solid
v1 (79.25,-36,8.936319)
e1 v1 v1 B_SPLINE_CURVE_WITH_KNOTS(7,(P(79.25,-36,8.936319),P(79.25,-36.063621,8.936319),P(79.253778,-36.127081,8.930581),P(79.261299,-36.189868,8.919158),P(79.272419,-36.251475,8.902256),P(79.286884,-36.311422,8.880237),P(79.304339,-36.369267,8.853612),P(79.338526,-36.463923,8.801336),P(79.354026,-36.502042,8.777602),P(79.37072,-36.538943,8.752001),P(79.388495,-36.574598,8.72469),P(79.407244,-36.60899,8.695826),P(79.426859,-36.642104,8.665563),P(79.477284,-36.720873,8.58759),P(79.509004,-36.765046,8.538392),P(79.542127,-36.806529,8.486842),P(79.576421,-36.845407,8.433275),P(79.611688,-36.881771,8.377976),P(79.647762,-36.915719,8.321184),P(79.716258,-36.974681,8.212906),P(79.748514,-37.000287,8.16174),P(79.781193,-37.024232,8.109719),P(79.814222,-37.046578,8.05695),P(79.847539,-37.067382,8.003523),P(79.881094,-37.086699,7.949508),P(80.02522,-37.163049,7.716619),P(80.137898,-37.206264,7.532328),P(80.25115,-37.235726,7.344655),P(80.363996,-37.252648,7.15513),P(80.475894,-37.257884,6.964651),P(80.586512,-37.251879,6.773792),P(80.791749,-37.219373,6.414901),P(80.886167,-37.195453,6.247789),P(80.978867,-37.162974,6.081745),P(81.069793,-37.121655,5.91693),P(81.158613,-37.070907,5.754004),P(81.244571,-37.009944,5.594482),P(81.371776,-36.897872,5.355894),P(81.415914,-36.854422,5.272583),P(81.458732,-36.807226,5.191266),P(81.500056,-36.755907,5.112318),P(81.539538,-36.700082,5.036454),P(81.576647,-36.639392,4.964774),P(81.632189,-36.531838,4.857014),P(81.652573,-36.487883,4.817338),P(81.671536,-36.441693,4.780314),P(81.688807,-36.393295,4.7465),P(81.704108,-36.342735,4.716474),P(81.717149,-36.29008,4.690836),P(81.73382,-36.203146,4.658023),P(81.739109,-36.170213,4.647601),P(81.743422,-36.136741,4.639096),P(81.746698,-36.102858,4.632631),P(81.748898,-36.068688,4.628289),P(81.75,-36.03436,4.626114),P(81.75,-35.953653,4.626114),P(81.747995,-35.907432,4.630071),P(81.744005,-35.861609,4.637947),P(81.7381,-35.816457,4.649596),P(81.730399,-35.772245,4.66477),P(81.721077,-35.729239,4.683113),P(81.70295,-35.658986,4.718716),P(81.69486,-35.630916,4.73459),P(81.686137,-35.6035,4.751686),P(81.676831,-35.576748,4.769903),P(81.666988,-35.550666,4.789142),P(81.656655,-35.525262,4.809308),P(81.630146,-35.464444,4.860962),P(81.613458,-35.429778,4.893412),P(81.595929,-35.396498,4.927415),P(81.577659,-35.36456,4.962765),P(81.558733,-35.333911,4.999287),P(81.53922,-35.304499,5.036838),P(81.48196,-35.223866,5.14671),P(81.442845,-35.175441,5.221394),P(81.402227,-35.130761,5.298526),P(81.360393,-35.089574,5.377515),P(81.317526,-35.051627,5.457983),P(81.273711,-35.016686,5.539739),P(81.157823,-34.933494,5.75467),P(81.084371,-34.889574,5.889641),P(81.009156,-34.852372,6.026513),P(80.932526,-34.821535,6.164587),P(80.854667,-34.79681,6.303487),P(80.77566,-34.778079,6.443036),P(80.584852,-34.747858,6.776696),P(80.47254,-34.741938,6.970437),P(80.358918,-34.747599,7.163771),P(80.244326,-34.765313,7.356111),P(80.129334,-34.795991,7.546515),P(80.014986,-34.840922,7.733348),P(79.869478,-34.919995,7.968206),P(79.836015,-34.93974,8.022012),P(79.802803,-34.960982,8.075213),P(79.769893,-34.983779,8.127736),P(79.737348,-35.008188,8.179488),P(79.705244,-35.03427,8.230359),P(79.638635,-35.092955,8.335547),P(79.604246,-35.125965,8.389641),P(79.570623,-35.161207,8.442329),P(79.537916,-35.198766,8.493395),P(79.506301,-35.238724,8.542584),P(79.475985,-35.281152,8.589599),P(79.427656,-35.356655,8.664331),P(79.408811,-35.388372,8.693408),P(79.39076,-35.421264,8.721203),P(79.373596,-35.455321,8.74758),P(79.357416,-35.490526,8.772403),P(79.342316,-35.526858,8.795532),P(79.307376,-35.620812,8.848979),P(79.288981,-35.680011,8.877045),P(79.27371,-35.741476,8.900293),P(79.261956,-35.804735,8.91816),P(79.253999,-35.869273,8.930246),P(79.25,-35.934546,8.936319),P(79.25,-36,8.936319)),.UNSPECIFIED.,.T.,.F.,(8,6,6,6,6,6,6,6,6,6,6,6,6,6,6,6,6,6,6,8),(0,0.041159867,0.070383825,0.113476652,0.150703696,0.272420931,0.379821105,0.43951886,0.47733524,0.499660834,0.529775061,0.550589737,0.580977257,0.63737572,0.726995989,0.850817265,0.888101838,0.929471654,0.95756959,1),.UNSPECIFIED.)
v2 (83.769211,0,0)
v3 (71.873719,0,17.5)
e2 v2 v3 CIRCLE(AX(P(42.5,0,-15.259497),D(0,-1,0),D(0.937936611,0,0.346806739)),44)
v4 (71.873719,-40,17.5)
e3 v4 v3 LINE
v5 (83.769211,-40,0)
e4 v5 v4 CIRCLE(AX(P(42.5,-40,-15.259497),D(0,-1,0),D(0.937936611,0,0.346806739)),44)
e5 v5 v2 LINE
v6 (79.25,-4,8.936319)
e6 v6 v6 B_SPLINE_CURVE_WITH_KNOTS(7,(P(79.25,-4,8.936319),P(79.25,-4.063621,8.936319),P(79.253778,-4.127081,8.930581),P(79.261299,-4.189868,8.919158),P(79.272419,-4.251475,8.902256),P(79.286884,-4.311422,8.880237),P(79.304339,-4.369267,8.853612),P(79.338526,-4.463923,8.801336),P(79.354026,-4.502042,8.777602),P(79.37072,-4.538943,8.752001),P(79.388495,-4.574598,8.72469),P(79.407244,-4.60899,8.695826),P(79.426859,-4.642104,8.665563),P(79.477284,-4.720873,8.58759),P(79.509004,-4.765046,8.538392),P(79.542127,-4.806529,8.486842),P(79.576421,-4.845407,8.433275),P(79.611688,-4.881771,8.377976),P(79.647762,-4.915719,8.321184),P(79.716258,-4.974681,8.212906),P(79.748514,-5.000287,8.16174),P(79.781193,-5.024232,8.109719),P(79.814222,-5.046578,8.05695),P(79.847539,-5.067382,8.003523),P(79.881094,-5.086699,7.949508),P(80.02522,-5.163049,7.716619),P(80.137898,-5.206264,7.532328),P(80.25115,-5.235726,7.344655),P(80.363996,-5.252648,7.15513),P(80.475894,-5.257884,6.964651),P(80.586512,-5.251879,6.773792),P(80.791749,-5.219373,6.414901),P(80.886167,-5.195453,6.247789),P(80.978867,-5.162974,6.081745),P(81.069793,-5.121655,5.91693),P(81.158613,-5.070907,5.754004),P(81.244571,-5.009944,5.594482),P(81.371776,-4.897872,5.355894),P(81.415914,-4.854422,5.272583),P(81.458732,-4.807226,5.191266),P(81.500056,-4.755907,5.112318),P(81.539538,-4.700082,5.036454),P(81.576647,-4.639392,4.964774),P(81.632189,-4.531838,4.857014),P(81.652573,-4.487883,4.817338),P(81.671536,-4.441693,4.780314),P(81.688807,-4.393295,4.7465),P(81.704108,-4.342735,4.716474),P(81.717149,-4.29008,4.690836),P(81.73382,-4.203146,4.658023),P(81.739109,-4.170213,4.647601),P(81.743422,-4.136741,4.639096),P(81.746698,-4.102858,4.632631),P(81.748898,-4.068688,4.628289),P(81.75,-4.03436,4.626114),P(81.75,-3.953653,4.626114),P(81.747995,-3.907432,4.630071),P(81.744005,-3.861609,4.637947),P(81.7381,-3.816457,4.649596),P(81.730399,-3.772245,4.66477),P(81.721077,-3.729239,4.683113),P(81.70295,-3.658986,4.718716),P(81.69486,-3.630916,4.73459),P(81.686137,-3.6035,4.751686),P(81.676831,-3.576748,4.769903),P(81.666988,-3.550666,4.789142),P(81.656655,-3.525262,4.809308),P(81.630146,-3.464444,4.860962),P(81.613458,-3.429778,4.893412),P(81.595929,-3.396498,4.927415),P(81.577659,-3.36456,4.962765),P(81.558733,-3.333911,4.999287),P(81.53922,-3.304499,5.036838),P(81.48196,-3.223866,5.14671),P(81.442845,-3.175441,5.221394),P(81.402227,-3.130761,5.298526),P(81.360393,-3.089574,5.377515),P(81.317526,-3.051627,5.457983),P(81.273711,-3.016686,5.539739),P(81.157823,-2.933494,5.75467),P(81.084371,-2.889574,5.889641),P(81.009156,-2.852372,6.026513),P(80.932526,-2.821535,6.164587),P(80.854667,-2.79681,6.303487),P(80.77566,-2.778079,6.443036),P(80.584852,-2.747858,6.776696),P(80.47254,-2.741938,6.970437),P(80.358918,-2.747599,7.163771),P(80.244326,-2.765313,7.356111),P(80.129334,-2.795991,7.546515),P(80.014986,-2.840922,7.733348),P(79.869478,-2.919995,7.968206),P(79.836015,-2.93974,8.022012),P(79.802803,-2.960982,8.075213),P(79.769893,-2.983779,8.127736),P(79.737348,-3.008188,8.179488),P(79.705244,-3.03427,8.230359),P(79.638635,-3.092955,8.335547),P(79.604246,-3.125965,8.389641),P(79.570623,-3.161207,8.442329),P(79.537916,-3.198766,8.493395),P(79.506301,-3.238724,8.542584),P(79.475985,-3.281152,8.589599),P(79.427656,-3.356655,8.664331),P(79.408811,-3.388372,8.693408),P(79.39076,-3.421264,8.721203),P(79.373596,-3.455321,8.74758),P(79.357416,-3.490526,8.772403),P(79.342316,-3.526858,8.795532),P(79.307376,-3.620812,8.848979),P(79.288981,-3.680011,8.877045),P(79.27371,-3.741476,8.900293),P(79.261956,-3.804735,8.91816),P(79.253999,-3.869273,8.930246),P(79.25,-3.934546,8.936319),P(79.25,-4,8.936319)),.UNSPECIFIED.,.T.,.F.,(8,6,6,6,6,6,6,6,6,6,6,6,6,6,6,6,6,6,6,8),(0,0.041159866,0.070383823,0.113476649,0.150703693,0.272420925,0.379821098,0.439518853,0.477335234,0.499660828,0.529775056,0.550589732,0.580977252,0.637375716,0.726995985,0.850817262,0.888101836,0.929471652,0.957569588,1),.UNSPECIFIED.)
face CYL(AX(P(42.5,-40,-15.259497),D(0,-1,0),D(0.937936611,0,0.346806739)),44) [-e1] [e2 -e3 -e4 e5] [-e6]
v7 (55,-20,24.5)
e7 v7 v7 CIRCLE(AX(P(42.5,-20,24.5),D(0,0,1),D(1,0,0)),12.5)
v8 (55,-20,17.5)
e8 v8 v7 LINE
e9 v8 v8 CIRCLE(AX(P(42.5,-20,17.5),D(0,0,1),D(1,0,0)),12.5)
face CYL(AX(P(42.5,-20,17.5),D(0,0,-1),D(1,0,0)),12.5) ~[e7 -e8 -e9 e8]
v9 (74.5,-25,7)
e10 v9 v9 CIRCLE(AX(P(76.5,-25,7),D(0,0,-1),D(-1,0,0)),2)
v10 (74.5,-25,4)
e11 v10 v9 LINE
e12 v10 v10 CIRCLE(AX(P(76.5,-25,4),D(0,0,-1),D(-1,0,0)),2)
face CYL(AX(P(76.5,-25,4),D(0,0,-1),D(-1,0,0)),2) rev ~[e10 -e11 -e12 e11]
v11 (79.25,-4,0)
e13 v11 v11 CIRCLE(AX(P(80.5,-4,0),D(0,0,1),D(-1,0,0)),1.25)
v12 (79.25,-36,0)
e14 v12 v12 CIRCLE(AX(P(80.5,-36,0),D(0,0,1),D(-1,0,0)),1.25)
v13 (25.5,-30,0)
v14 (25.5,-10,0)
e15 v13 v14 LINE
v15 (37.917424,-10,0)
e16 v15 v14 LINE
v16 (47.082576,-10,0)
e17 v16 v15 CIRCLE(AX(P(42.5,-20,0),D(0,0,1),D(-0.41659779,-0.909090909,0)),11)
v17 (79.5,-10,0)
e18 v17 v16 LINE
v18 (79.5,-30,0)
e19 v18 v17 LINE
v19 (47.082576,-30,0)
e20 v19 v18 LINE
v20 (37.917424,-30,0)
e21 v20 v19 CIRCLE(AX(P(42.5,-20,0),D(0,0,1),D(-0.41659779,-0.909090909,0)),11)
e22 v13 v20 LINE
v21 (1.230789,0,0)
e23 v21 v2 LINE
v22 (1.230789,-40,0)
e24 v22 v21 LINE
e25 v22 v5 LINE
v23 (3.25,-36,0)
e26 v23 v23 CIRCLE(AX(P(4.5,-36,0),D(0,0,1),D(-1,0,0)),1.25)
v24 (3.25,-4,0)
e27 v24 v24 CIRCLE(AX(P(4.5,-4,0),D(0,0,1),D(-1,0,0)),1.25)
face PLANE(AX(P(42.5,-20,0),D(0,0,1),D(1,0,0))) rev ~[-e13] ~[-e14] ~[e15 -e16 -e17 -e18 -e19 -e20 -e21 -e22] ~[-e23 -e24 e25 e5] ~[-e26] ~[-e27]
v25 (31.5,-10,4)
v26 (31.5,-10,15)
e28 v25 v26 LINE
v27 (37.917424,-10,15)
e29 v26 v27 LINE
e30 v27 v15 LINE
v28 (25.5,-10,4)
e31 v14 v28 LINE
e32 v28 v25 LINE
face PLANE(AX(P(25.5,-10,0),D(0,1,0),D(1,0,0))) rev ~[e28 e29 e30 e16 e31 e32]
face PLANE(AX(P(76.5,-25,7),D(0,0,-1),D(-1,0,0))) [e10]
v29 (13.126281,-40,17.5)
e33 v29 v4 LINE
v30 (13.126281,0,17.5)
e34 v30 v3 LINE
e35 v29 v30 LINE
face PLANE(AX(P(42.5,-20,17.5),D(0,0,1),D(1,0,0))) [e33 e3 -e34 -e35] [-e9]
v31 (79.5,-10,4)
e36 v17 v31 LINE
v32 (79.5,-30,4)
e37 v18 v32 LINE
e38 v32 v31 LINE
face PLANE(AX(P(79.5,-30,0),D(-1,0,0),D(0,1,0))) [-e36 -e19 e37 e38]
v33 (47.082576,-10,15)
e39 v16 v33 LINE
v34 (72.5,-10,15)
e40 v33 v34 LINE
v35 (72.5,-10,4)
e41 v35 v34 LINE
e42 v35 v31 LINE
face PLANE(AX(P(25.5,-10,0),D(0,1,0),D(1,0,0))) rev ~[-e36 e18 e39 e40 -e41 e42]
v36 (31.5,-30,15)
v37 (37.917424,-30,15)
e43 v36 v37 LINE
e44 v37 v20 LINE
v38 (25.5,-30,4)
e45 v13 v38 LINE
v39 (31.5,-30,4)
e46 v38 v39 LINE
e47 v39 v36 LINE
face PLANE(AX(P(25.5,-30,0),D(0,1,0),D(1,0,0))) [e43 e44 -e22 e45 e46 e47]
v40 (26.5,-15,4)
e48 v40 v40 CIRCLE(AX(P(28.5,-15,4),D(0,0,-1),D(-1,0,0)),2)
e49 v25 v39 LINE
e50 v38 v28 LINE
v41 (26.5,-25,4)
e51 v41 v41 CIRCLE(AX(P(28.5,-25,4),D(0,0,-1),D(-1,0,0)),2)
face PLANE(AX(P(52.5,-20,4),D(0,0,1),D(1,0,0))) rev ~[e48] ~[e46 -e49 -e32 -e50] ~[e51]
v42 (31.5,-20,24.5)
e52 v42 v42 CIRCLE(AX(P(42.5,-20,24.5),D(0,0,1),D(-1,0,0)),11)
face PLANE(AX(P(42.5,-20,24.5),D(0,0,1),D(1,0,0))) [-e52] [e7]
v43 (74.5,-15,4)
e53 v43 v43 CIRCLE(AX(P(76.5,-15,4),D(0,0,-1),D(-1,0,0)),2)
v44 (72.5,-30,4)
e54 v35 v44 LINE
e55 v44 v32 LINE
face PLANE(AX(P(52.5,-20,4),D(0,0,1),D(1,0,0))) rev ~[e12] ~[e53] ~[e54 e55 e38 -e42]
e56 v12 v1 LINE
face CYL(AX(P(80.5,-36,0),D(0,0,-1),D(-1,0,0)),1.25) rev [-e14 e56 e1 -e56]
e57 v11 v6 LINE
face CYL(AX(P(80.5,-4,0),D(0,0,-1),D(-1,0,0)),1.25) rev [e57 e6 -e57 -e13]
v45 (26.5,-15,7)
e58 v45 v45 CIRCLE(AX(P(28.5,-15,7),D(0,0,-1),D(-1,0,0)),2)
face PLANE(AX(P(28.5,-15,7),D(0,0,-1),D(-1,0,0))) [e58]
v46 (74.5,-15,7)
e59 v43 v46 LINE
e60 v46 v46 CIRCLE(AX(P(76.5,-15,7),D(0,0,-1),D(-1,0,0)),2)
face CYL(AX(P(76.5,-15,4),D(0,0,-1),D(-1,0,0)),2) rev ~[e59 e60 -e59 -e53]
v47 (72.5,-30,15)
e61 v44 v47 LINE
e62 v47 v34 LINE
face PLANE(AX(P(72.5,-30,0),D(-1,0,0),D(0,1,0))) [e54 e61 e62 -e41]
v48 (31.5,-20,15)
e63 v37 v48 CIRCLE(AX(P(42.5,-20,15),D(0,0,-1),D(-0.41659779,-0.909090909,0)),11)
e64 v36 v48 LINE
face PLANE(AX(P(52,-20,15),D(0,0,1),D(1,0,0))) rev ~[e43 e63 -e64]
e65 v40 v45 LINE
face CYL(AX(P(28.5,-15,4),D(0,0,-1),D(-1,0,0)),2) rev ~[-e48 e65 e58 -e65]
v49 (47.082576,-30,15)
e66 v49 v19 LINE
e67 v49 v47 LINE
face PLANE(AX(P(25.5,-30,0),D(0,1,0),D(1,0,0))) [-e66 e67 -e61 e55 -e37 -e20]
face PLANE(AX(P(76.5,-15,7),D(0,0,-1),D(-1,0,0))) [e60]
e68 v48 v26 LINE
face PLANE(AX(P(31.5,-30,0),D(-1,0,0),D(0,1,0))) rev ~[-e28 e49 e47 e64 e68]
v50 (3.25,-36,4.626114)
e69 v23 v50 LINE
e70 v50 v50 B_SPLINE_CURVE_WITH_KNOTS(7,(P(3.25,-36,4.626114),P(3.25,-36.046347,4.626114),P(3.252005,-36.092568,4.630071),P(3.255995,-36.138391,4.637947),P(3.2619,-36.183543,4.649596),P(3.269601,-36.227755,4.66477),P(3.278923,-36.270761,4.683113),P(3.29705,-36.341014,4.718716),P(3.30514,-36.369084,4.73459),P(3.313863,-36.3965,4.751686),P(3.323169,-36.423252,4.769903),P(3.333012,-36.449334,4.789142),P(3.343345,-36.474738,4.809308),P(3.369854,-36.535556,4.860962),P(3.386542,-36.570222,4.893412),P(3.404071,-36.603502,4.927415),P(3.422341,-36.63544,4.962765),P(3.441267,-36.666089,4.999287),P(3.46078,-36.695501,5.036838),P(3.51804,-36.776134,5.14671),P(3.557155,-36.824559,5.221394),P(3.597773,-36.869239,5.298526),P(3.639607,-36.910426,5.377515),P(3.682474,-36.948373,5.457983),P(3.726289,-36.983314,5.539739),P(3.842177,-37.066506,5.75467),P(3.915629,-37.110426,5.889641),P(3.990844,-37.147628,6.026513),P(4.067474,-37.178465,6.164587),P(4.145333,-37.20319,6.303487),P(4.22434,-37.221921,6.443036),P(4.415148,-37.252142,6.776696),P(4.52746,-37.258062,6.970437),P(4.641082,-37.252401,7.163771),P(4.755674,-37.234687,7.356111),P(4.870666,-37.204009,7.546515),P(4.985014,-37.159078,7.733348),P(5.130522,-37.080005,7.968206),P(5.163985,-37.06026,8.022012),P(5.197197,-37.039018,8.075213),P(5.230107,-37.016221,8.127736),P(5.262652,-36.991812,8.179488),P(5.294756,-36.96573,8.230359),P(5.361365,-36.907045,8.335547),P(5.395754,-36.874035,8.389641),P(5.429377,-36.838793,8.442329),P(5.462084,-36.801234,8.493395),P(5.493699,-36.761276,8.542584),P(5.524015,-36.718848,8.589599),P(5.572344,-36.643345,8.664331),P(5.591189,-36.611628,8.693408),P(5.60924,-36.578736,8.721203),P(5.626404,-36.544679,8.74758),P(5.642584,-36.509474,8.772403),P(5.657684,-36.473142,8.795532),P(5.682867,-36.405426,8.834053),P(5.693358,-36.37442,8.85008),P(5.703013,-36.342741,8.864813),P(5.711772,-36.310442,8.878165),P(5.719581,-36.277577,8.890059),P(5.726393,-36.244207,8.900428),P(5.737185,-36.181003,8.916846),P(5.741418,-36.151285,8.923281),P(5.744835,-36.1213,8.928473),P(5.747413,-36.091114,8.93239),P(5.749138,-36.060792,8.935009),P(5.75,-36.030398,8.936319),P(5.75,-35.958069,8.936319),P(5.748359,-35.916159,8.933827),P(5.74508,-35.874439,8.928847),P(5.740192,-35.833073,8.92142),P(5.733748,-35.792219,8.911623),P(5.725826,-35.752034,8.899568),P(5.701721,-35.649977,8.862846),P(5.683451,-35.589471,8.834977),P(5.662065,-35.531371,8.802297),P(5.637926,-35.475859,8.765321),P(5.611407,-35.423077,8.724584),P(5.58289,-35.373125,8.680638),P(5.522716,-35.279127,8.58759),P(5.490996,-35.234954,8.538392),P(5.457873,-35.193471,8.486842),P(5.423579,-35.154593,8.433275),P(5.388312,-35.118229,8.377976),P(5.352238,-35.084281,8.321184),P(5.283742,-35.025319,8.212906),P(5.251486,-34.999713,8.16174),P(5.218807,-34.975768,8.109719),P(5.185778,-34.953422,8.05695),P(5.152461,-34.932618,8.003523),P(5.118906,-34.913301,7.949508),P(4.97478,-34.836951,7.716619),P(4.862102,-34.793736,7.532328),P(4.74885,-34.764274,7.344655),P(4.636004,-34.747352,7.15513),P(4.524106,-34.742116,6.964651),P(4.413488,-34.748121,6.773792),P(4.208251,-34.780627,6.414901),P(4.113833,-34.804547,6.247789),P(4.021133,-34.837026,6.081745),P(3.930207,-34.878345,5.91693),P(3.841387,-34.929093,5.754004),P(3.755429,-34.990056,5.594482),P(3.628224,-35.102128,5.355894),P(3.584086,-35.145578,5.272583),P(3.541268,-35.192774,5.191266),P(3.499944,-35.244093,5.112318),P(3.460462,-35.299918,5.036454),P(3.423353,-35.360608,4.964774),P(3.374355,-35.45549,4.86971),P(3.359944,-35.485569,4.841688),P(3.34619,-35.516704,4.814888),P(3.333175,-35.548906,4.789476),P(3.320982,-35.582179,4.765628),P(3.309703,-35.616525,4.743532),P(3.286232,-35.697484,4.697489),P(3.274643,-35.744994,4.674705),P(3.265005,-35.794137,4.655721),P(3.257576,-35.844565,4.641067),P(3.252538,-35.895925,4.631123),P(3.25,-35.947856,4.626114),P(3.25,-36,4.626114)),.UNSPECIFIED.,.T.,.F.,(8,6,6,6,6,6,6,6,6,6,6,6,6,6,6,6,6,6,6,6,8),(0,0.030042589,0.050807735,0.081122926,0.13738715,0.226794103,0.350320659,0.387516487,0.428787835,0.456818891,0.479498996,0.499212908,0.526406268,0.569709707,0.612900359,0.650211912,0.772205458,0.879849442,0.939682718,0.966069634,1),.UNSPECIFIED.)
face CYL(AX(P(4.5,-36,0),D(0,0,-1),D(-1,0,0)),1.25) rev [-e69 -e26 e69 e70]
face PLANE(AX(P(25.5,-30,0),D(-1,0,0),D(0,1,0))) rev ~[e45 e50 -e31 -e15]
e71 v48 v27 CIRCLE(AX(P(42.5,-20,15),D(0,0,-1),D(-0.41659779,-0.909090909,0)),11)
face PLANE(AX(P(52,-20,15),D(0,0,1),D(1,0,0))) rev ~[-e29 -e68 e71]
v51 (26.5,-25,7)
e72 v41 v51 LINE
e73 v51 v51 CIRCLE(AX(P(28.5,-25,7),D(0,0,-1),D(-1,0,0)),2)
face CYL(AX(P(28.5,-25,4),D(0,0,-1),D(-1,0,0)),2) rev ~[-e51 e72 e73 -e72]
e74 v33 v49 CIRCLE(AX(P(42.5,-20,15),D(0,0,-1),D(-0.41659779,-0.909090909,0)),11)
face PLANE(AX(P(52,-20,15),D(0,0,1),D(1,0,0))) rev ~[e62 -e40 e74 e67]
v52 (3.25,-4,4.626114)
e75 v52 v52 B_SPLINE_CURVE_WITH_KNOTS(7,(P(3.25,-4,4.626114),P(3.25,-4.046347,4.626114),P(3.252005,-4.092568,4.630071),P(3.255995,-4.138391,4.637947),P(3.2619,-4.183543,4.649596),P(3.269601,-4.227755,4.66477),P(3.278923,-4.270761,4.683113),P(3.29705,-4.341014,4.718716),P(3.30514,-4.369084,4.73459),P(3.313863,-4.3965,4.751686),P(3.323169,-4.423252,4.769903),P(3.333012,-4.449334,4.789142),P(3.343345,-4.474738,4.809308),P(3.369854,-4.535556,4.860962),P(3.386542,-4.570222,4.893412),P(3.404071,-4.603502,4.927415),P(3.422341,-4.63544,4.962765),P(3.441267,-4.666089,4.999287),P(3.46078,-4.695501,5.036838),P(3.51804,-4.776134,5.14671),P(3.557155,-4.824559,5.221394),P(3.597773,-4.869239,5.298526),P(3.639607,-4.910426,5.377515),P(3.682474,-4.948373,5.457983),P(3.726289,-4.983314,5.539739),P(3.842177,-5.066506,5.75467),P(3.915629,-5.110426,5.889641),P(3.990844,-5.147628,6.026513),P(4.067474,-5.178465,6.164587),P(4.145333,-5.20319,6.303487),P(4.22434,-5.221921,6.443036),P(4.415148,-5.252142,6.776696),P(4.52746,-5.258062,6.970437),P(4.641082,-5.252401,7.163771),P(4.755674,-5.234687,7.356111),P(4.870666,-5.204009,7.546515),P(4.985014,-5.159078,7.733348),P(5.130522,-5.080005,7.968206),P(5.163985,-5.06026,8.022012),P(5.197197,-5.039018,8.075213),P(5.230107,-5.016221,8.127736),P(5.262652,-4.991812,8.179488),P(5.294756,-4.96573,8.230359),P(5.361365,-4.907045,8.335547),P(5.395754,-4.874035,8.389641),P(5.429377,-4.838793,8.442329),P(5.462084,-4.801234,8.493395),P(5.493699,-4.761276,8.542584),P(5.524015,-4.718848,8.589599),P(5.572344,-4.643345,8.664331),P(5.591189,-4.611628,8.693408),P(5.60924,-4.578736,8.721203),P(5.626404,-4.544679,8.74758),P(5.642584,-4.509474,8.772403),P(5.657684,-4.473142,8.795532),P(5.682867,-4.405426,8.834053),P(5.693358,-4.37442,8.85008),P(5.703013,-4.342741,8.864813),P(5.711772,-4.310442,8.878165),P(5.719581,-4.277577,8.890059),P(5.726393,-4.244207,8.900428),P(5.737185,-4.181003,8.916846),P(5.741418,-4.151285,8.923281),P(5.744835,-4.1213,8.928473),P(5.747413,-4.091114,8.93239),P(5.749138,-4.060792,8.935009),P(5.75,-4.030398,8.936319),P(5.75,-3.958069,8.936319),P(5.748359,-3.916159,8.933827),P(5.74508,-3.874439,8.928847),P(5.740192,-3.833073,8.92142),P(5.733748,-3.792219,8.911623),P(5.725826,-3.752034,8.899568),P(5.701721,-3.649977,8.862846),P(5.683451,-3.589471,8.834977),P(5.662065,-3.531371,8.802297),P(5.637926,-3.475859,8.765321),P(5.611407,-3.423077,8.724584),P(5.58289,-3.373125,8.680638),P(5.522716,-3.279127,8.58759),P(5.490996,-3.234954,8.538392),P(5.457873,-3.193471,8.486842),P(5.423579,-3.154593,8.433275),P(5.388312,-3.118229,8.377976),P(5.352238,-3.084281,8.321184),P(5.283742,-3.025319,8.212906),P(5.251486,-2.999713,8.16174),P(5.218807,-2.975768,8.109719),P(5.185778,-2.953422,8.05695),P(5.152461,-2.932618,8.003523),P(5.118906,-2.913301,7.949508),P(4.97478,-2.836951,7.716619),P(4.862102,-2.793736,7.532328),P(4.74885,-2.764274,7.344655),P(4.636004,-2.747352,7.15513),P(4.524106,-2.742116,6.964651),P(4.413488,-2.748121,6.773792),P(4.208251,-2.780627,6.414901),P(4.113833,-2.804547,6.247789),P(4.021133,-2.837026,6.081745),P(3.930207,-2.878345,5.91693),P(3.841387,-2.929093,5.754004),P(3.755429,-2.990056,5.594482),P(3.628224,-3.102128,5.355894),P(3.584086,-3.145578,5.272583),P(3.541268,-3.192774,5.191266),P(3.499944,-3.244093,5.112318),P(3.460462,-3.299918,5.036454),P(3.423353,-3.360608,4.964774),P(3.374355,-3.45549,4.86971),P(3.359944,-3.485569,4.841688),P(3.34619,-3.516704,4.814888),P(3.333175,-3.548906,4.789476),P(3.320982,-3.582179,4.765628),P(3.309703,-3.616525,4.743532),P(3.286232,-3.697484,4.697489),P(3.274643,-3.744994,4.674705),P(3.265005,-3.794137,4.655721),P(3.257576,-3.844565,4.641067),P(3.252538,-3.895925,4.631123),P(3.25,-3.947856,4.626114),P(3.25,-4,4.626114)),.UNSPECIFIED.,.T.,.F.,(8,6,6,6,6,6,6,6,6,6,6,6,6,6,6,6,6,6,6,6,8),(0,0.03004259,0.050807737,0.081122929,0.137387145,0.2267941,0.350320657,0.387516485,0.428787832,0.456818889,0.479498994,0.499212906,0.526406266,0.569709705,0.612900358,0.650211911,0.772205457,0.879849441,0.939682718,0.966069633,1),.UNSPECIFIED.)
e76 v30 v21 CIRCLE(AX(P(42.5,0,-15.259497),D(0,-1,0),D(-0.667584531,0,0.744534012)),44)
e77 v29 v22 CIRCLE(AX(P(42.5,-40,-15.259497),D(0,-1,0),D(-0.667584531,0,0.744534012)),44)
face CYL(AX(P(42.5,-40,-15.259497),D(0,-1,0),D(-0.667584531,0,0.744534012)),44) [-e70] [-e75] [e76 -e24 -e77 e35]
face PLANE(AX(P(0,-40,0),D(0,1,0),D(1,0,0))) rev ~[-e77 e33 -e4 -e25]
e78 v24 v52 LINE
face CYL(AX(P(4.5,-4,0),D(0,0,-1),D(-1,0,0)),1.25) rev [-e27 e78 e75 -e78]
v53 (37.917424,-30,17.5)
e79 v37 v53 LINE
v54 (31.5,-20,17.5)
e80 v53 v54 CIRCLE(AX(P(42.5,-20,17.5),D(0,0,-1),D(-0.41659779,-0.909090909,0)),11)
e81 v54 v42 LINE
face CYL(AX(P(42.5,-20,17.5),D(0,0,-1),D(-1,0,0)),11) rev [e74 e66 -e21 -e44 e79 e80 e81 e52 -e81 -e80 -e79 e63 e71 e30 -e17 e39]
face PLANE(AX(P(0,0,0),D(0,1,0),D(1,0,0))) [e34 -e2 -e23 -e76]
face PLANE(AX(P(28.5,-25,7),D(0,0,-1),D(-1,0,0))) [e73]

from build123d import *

# Parameters (mm, degrees)
SKETCH_1_W           = 85
SKETCH_1_H           = 40
EXTRUDE_1_DEPTH      = 17.5
SKETCH_2_W           = 54
SKETCH_2_H           = 20
CUT_EXTRUDE_1_DEPTH  = 4
SKETCH_3_R           = 11
CUT_EXTRUDE_2_DEPTH  = 96.557574268
SKETCH_4_W           = 41
SKETCH_4_H           = 20
CUT_EXTRUDE_3_DEPTH  = 15
CUT_EXTRUDE_4_DEPTH  = 40
SKETCH_10_R          = 2
CUT_EXTRUDE_7_DEPTH  = 3
SKETCH_8_R           = 12.5
SKETCH_8_R_2         = 11
EXTRUDE_2_DEPTH      = 7
SKETCH_12_R          = 1.25
CUT_EXTRUDE_10_DEPTH = 97.007972017


with BuildPart() as part:
    # Эскиз1 → Бобышка-Вытянуть1 (new body)
    with BuildSketch(Plane.XY):
        with Locations((42.5, -20)):
            Rectangle(SKETCH_1_W, SKETCH_1_H)
    extrude(amount=EXTRUDE_1_DEPTH)

    # Эскиз2 → Вырез-Вытянуть1 (cut)
    with BuildSketch(Plane.XY):
        with Locations((52.5, -20)):
            Rectangle(SKETCH_2_W, SKETCH_2_H)
    extrude(amount=CUT_EXTRUDE_1_DEPTH, mode=Mode.SUBTRACT)

    # Эскиз3 → Вырез-Вытянуть2 (cut, through all)
    with BuildSketch(Plane.XY):
        with Locations(Location((42.5, -20, 0), (0, 0, 245.380022671))):
            Circle(SKETCH_3_R)
    extrude(amount=CUT_EXTRUDE_2_DEPTH, mode=Mode.SUBTRACT)

    # Эскиз4 → Вырез-Вытянуть3 (cut)
    with BuildSketch(Plane.XY):
        with Locations((52, -20)):
            Rectangle(SKETCH_4_W, SKETCH_4_H)
    extrude(amount=CUT_EXTRUDE_3_DEPTH, mode=Mode.SUBTRACT)

    # Эскиз6 → Вырез-Вытянуть4 (cut)
    with BuildSketch(Plane.XZ.offset(40)):
        with BuildLine():
            Line((0, 17.5), (13.126280648, 17.5))
            ThreePointArc((13.126280648, 17.5), (6.110875281, 9.475733473), (1.230789124, 0))
            Line((1.230789124, 0), (0, 0))
            Line((0, 0), (0, 17.5))
        make_face()
        with BuildLine():
            Line((71.873719352, 17.5), (85, 17.5))
            Line((85, 17.5), (85, 0))
            Line((85, 0), (83.769210876, 0))
            ThreePointArc((83.769210876, 0), (78.889124719, 9.475733473), (71.873719352, 17.5))
        make_face()
    extrude(amount=-CUT_EXTRUDE_4_DEPTH, mode=Mode.SUBTRACT)

    # Эскиз10 → Вырез-Вытянуть7 (cut)
    with BuildSketch(Plane(origin=(0, 0, 4), x_dir=(-1, 0, 0), z_dir=(0, 0, -1))):
        with Locations((-28.5, -15)):
            Circle(SKETCH_10_R)
        with Locations((-28.5, -25)):
            Circle(SKETCH_10_R)
        with Locations((-76.5, -15)):
            Circle(SKETCH_10_R)
        with Locations((-76.5, -25)):
            Circle(SKETCH_10_R)
    extrude(amount=-CUT_EXTRUDE_7_DEPTH, mode=Mode.SUBTRACT)

    # Эскиз8 → Бобышка-Вытянуть2 (add)
    with BuildSketch(Plane.XY.offset(17.5)):
        with Locations((42.5, -20)):
            Circle(SKETCH_8_R)
        with Locations(Location((42.5, -20, 0), (0, 0, 180))):
            Circle(SKETCH_8_R_2, mode=Mode.SUBTRACT)
    extrude(amount=EXTRUDE_2_DEPTH)

    # Эскиз12 → Вырез-Вытянуть10 (cut, through all)
    with BuildSketch(Plane.XY):
        with Locations(Location((80.5, -4, 0), (0, 0, 180))):
            Circle(SKETCH_12_R)
        with Locations(Location((80.5, -36, 0), (0, 0, 180))):
            Circle(SKETCH_12_R)
        with Locations(Location((4.5, -36, 0), (0, 0, 180))):
            Circle(SKETCH_12_R)
        with Locations(Location((4.5, -4, 0), (0, 0, 180))):
            Circle(SKETCH_12_R)
    extrude(amount=CUT_EXTRUDE_10_DEPTH, mode=Mode.SUBTRACT)


solid = part.part
